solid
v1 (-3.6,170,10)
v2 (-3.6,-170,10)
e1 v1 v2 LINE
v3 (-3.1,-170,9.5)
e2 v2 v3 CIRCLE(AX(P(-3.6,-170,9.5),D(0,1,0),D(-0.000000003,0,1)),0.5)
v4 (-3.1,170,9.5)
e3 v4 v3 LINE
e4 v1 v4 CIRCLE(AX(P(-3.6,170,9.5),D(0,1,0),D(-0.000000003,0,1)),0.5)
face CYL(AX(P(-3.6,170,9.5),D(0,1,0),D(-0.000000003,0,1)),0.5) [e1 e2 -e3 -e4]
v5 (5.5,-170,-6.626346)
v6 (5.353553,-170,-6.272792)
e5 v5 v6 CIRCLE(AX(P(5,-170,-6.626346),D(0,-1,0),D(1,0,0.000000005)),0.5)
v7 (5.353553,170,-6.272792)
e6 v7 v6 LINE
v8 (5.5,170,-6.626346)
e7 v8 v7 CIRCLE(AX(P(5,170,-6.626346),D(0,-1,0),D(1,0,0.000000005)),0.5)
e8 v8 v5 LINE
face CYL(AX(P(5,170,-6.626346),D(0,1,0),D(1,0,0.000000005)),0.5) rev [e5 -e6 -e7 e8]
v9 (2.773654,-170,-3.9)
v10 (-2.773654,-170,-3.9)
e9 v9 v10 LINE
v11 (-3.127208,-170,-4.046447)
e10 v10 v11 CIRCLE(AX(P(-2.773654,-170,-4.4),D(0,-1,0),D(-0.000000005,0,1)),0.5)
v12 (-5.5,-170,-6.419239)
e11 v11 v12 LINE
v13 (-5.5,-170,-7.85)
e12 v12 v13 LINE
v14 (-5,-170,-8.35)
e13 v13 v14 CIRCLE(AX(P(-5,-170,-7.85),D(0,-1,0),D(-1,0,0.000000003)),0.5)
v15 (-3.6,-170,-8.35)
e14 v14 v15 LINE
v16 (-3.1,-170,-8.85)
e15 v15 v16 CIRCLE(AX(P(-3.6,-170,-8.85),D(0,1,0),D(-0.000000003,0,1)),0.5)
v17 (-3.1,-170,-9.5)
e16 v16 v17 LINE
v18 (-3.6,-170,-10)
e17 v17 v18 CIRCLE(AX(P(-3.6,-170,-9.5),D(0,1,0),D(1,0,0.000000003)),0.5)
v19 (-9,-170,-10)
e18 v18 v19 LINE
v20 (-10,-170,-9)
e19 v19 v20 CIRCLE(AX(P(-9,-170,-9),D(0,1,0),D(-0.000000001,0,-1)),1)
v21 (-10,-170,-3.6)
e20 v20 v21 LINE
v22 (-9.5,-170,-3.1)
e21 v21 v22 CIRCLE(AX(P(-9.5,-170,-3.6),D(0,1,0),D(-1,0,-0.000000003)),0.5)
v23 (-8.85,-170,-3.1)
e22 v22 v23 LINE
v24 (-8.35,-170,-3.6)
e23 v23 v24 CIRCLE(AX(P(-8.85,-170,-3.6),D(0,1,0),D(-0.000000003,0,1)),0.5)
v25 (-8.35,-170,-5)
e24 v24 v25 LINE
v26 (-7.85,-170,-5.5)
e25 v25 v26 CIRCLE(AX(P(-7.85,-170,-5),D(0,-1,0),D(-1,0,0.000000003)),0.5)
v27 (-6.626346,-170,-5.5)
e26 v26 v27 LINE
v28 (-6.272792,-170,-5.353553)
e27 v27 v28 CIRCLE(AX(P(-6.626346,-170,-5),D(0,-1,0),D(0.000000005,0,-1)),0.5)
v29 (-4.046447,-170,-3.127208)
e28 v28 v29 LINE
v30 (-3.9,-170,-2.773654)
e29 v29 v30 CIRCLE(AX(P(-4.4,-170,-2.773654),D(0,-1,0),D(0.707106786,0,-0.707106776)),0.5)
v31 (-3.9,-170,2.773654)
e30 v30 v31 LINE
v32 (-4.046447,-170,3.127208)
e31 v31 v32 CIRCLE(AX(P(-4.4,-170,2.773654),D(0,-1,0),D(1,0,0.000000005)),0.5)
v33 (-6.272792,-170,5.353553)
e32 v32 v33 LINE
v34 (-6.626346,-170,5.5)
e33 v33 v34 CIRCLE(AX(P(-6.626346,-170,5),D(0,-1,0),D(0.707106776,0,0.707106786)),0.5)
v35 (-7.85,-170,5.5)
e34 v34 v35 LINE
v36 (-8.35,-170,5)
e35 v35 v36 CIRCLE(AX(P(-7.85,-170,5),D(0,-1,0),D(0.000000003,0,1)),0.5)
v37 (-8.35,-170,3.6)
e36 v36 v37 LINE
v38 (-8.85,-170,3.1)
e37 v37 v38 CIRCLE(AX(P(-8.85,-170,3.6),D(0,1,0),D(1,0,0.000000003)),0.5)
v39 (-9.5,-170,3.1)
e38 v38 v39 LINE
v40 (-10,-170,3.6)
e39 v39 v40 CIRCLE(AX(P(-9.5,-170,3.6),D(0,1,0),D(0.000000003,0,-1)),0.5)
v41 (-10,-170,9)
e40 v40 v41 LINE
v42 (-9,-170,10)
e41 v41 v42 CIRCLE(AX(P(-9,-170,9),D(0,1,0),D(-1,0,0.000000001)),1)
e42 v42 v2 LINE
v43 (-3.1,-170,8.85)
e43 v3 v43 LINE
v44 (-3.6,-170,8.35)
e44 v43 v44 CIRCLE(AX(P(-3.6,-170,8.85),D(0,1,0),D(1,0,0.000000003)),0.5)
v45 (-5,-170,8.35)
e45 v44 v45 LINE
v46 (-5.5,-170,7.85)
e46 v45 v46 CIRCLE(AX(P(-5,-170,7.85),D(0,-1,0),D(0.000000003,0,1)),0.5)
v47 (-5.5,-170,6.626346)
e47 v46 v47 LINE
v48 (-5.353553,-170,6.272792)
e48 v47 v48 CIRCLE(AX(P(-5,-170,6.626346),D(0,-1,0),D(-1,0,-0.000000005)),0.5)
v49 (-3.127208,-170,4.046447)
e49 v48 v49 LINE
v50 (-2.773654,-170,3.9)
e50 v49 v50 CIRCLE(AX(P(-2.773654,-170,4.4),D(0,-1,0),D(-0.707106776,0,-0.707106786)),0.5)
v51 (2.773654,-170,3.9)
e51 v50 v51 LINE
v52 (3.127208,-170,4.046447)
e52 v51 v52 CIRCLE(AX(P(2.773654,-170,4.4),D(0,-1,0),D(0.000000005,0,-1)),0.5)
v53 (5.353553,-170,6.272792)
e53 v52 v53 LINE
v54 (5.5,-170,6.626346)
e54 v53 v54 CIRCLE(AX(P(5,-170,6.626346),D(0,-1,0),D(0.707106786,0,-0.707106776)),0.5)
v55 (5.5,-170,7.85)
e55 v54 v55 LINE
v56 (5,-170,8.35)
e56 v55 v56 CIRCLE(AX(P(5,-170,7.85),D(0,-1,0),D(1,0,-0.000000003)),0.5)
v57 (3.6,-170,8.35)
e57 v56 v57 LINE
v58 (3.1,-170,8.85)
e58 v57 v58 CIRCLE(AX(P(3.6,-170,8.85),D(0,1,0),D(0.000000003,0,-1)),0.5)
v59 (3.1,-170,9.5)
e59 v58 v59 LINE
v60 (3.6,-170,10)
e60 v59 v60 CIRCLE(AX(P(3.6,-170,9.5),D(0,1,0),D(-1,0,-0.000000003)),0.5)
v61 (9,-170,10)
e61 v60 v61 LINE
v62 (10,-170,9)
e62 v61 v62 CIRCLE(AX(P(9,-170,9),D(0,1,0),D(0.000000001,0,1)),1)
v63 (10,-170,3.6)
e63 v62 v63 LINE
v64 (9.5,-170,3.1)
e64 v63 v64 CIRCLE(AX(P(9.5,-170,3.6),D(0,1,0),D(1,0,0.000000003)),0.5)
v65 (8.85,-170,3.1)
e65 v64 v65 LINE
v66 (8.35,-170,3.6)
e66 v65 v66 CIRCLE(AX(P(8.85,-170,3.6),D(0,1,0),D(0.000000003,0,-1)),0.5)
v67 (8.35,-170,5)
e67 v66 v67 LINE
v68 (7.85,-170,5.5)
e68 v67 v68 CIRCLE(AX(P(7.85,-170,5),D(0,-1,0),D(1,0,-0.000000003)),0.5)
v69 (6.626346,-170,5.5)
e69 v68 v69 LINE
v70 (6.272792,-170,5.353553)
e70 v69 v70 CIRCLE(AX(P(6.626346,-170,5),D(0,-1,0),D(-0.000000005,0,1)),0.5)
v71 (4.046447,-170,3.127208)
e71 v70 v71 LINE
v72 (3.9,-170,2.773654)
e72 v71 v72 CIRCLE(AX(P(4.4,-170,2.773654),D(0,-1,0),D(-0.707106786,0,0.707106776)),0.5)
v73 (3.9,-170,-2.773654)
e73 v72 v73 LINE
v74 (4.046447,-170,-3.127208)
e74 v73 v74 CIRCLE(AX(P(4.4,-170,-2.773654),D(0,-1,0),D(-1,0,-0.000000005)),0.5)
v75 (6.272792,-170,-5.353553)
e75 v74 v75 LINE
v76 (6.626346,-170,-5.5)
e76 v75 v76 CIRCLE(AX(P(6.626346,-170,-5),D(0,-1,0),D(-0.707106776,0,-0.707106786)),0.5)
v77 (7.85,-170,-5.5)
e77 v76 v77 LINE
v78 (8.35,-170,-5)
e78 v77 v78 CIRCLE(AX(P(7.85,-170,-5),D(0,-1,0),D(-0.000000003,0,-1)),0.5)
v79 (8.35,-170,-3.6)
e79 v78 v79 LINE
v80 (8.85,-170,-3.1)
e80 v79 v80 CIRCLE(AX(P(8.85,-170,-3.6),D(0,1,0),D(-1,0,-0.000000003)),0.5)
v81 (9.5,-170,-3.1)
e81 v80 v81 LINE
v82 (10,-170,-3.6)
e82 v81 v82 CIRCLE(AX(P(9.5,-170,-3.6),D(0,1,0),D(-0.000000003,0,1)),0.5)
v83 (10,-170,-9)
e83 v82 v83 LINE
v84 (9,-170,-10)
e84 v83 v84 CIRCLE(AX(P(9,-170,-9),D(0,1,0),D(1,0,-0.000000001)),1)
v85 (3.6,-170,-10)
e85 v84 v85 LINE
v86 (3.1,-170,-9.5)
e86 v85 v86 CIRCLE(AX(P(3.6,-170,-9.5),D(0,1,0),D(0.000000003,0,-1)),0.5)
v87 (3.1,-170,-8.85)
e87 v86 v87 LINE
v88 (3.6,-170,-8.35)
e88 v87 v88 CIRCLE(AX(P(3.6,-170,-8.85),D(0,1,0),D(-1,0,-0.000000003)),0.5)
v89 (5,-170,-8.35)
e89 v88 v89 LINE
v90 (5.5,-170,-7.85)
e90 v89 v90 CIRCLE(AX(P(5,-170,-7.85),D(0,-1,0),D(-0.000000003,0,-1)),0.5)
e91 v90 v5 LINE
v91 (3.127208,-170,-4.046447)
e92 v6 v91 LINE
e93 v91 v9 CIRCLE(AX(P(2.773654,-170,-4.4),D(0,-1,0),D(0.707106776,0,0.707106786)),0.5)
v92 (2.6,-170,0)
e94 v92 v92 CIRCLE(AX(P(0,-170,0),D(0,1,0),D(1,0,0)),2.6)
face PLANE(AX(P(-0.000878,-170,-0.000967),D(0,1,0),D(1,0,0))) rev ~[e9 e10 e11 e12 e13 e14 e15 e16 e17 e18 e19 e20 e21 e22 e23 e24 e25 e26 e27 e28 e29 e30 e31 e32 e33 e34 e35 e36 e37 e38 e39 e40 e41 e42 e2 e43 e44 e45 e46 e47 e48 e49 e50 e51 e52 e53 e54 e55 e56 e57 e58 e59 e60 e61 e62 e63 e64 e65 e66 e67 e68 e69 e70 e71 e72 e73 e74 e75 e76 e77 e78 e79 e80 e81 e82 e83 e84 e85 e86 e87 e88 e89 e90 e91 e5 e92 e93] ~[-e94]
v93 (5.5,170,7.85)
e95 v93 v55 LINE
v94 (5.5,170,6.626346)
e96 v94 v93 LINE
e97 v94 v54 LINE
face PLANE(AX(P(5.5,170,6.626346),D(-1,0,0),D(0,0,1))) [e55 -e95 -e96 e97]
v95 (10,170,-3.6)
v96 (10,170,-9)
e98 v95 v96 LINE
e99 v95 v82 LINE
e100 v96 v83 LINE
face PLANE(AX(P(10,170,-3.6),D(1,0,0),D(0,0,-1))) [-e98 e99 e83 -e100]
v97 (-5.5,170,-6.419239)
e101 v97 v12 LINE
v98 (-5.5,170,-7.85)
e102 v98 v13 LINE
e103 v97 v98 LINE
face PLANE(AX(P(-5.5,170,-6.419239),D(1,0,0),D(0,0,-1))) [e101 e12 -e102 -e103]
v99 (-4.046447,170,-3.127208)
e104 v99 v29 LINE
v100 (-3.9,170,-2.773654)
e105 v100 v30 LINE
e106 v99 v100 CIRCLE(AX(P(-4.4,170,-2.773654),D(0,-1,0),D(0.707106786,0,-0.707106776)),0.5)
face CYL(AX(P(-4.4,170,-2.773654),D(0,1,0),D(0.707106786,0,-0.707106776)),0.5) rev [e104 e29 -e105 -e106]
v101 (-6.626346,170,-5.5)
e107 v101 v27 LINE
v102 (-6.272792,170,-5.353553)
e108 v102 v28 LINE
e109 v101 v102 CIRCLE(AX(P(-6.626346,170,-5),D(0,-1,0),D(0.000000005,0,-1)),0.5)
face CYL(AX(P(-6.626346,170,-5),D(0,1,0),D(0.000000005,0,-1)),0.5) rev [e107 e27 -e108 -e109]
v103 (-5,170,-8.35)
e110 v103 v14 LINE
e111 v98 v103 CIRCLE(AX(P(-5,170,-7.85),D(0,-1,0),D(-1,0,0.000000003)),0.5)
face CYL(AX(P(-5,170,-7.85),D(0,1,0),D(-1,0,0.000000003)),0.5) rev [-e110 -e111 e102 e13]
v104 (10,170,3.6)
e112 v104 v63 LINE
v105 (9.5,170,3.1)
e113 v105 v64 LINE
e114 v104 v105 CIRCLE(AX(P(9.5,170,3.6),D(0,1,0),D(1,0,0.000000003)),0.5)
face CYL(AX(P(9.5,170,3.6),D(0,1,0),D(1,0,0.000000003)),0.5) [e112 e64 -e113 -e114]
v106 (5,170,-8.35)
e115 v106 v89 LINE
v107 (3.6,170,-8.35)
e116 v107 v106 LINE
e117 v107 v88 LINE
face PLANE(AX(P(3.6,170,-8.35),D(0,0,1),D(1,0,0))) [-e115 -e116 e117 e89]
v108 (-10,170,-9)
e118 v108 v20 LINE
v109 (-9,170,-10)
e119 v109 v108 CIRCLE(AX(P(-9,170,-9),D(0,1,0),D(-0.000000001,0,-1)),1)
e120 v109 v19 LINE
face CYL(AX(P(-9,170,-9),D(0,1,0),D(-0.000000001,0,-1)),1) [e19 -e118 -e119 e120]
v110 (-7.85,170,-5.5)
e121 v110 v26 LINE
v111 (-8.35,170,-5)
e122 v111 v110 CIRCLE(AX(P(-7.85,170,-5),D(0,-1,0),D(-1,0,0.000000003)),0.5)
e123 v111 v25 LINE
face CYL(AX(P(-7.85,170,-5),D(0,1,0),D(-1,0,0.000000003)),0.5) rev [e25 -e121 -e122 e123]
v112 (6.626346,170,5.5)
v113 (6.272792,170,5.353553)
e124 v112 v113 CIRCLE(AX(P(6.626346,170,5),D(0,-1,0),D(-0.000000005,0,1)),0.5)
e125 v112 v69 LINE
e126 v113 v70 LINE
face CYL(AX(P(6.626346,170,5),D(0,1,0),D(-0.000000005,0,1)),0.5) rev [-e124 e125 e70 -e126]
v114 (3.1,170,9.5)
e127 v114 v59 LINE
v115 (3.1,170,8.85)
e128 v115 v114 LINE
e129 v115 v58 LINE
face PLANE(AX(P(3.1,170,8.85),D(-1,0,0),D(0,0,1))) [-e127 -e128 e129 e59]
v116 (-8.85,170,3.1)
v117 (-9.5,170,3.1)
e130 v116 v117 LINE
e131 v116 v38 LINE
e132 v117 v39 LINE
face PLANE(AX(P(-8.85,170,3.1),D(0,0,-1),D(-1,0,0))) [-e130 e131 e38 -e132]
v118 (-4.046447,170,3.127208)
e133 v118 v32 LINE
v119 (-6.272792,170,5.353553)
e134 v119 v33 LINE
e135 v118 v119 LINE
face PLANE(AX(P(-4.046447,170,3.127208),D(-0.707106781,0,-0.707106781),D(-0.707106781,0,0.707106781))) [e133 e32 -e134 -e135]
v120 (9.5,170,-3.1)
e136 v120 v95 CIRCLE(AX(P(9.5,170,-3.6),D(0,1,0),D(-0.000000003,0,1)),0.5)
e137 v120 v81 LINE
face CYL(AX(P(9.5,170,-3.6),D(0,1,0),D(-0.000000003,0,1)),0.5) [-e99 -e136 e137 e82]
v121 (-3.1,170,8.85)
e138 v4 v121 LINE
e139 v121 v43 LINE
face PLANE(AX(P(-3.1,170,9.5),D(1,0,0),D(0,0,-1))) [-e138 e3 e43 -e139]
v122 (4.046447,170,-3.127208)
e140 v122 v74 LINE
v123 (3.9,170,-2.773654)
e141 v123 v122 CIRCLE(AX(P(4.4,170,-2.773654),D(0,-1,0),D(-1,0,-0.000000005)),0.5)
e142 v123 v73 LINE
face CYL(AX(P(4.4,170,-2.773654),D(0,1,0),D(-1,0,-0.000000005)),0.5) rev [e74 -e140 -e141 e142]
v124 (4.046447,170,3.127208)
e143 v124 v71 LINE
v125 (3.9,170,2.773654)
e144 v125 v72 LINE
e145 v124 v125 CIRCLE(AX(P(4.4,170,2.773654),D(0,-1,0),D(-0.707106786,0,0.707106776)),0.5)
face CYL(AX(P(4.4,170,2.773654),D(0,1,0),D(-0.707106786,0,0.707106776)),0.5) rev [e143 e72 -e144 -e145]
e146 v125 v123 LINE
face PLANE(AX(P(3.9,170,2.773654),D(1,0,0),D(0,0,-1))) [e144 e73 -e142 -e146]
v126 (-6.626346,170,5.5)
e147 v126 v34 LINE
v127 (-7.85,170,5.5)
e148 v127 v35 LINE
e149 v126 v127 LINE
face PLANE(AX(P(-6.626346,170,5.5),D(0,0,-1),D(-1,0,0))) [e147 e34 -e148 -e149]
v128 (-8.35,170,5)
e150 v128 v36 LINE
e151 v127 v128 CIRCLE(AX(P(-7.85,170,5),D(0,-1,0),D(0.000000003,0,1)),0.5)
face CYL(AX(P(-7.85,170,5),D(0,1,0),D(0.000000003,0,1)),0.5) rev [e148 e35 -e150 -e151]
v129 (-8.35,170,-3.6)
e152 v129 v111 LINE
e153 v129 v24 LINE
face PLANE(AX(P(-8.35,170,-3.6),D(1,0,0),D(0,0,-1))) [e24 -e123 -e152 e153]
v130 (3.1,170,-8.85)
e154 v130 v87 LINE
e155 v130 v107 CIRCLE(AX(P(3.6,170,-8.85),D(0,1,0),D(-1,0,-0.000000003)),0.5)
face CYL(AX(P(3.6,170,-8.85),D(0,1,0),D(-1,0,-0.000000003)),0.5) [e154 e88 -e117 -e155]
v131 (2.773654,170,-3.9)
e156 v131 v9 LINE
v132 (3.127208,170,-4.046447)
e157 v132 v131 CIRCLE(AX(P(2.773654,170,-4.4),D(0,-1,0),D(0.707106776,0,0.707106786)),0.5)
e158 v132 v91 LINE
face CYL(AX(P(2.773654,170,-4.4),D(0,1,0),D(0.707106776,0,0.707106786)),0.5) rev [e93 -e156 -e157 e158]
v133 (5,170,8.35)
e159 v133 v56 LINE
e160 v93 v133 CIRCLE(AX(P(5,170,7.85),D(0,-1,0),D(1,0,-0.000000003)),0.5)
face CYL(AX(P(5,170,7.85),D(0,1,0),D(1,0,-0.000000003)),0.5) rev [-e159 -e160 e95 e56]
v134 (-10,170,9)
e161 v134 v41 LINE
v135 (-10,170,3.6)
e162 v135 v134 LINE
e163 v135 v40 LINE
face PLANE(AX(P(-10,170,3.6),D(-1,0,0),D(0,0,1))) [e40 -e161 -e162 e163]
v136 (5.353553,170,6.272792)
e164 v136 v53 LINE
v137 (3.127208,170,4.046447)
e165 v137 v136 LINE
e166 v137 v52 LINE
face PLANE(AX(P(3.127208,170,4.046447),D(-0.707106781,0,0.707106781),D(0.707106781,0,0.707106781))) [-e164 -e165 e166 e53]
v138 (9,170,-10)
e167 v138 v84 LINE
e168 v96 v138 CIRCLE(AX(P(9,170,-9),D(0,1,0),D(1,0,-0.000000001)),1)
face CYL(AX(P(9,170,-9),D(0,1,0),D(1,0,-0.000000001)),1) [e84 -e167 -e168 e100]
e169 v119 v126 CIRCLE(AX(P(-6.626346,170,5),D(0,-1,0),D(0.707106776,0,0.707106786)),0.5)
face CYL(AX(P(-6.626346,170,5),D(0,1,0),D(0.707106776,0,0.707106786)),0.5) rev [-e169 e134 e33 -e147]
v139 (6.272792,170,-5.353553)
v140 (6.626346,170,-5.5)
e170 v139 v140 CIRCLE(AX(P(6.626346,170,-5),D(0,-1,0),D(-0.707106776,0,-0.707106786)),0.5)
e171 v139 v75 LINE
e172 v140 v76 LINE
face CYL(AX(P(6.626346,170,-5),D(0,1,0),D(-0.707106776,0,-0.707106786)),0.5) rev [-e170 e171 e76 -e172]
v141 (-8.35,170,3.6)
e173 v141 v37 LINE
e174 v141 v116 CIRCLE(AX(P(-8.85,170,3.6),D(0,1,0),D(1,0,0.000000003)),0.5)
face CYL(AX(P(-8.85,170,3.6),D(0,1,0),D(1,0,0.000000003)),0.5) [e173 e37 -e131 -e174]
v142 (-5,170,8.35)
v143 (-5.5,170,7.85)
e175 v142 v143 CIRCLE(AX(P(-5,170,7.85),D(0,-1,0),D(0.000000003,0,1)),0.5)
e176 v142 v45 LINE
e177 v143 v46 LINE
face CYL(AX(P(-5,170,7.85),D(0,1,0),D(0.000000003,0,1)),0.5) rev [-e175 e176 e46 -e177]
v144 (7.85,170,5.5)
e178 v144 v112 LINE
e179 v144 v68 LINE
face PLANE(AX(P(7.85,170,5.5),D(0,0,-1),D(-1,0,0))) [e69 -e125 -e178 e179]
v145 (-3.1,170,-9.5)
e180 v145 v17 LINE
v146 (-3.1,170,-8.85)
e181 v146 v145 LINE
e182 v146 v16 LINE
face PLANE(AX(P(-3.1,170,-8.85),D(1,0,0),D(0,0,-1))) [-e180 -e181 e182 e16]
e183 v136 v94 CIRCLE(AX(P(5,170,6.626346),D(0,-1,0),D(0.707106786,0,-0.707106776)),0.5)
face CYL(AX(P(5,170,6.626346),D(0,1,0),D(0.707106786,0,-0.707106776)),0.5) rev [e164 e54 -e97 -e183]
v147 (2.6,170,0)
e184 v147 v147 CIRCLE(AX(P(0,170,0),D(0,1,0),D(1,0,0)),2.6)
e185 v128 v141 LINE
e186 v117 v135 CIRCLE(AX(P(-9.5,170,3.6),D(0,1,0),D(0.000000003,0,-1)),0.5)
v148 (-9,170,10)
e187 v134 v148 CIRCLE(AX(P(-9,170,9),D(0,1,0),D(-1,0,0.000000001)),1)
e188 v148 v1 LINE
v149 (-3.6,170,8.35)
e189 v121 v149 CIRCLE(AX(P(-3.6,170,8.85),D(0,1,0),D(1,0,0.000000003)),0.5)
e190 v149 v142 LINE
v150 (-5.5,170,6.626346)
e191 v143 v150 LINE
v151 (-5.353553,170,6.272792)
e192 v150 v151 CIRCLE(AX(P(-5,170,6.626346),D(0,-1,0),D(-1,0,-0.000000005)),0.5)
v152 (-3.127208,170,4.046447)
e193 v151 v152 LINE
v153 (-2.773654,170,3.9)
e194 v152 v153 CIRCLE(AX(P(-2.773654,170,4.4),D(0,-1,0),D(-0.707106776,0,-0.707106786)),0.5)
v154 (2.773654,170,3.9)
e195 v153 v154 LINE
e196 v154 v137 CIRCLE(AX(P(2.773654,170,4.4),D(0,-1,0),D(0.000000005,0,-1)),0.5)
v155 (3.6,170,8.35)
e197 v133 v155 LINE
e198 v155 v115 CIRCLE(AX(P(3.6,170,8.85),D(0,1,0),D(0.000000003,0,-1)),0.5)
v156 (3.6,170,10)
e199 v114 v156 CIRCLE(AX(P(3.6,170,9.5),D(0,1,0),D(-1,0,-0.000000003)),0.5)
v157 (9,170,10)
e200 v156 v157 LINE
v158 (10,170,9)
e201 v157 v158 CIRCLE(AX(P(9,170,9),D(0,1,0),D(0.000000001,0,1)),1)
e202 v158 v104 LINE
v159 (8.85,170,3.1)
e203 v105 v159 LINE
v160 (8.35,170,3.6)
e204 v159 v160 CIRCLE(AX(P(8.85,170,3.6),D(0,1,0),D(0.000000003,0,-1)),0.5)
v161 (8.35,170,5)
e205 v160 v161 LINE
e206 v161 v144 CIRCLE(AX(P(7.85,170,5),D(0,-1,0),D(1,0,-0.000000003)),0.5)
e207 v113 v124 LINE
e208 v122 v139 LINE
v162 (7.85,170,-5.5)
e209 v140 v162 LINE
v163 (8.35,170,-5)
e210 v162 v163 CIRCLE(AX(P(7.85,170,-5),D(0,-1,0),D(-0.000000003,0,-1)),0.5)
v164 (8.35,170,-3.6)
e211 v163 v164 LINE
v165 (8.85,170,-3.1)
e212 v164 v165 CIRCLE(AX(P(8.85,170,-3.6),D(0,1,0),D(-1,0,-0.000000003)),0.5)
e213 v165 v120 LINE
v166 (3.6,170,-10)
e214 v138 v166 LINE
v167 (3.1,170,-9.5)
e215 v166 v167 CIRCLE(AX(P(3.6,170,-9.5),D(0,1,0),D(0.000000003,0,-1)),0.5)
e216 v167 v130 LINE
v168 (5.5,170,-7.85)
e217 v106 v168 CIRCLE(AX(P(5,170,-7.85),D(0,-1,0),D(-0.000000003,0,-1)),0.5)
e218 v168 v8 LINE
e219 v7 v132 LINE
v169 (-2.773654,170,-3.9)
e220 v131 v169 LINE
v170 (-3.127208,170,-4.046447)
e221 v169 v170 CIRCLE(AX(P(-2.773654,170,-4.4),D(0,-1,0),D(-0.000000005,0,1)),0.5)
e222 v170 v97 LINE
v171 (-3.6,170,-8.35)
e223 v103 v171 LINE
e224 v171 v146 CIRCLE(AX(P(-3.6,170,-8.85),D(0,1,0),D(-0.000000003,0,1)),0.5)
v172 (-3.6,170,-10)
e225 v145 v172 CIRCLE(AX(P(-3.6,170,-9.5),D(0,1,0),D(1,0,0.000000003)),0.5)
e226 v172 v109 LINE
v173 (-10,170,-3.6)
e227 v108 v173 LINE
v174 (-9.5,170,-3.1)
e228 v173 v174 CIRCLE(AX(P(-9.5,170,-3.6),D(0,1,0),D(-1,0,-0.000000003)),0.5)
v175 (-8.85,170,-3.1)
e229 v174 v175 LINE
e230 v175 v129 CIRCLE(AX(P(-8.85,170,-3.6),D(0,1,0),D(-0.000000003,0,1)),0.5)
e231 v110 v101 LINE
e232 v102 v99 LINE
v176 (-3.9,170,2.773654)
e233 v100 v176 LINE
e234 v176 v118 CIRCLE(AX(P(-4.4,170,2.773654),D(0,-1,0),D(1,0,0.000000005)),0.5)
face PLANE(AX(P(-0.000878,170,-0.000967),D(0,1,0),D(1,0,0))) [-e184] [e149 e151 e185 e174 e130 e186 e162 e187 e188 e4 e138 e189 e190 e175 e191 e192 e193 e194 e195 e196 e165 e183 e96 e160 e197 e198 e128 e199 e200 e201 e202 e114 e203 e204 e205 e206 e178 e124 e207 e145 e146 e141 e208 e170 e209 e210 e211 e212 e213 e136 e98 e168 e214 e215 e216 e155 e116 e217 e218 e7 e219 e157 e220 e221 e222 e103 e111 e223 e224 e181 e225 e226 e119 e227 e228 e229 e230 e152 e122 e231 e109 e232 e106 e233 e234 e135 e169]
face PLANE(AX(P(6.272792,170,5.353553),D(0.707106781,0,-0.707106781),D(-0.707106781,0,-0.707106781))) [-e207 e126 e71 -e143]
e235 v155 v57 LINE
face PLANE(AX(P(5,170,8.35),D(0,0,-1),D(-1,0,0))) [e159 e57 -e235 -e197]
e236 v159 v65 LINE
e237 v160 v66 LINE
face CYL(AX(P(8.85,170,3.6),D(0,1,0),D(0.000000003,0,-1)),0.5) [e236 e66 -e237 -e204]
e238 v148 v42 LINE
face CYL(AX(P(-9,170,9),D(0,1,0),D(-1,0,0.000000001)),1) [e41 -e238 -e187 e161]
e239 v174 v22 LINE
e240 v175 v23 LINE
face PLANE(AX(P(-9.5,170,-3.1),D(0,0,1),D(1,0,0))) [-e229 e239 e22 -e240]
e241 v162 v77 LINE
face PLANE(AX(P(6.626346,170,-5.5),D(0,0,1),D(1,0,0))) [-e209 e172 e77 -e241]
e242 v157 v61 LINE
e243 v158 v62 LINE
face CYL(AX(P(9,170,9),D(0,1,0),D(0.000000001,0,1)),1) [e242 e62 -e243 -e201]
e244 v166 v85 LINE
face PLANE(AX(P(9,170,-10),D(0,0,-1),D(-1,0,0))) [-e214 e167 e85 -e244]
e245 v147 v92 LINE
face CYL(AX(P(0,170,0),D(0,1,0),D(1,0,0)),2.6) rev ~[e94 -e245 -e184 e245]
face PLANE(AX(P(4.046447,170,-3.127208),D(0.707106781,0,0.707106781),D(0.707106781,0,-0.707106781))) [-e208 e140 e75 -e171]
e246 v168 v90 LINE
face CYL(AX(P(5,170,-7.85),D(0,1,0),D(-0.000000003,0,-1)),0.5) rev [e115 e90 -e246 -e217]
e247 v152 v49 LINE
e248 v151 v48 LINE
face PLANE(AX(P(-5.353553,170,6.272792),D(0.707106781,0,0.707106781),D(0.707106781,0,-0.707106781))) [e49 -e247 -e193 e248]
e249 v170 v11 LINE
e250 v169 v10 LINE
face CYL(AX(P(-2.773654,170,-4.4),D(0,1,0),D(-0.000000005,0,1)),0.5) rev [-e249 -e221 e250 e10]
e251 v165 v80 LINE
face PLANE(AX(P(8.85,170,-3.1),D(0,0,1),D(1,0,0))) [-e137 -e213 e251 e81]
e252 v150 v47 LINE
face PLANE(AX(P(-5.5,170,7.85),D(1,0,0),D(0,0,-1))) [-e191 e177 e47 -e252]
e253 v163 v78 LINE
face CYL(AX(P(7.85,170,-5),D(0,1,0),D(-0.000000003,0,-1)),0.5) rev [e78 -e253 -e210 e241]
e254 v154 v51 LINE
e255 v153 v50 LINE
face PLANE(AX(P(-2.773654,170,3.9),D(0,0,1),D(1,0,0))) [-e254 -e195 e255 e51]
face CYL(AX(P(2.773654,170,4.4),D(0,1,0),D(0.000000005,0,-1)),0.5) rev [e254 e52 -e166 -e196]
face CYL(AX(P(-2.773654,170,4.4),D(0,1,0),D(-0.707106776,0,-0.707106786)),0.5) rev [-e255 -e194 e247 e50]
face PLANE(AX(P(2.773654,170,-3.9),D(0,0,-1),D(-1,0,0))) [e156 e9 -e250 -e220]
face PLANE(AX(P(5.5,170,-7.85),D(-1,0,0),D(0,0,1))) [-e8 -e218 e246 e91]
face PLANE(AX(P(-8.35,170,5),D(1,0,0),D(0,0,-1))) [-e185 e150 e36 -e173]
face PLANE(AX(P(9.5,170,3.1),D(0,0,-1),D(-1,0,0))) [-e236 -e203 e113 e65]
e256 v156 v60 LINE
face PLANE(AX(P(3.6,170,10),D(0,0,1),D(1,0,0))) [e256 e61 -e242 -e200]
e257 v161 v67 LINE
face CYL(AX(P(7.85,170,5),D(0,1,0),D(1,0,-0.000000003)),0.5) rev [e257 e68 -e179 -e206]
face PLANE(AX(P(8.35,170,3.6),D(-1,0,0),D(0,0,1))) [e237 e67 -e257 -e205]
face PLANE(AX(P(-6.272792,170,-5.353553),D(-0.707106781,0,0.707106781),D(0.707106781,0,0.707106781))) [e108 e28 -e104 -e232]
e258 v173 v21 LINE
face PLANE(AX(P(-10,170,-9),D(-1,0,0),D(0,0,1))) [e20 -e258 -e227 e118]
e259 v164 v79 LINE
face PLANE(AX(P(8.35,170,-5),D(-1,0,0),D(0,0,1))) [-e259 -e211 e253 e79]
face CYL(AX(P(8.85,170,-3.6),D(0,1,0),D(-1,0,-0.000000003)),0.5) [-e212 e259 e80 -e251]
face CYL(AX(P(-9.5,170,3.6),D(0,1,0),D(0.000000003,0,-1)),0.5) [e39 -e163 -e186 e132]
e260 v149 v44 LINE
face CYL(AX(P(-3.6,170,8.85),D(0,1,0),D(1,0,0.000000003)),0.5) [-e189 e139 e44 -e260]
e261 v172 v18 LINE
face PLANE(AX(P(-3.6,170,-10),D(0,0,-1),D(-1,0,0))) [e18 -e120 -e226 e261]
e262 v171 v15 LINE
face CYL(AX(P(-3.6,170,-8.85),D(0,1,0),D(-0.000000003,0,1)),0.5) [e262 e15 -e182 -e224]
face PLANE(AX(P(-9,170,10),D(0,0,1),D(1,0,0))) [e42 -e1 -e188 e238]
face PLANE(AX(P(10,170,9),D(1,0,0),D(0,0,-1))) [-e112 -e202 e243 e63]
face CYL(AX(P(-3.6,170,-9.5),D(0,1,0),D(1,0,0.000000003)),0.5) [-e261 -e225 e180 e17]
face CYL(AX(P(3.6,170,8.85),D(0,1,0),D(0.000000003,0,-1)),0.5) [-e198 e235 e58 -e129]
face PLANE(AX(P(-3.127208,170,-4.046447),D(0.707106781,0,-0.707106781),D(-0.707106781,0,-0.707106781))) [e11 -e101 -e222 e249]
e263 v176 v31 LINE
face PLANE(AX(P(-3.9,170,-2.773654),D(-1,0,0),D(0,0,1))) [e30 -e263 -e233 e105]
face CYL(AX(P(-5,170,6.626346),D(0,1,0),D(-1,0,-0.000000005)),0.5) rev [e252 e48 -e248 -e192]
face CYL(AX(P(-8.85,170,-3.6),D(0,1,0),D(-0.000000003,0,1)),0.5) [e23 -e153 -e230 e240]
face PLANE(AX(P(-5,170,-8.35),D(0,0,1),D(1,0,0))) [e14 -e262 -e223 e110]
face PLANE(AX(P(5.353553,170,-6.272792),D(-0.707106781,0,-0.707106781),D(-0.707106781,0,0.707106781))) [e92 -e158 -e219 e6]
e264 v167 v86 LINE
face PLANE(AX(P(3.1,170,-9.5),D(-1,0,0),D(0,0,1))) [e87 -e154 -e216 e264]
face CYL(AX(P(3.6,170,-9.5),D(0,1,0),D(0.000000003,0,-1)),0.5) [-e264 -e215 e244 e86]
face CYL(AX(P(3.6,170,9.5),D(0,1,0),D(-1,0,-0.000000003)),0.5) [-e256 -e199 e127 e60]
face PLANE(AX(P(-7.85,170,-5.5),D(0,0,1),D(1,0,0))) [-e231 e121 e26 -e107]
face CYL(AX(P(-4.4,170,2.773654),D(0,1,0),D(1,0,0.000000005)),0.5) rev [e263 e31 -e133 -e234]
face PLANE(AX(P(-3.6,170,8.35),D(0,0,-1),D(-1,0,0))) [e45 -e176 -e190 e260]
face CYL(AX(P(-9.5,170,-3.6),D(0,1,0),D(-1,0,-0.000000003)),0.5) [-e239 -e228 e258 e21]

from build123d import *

# Parameters (mm, degrees)
SKETCH1_R           = 2.6
BOSS_EXTRUDE1_DEPTH = 340


with BuildPart() as part:
    # Sketch1 → Boss-Extrude1 (new body)
    with BuildSketch(Plane(origin=(0, 170, 0), x_dir=(1, 0, 0), z_dir=(0, 1, 0))):
        with BuildLine():
            Line((-3.1, 8.85), (-3.1, 9.5))
            ThreePointArc((-3.1, 9.5), (-3.246446609, 9.853553391), (-3.6, 10))
            Line((-3.6, 10), (-9, 10))
            ThreePointArc((-9, 10), (-9.707106781, 9.707106781), (-10, 9))
            Line((-10, 9), (-10, 3.6))
            ThreePointArc((-10, 3.6), (-9.853553391, 3.246446609), (-9.5, 3.1))
            Line((-9.5, 3.1), (-8.85, 3.1))
            ThreePointArc((-8.85, 3.1), (-8.496446609, 3.246446609), (-8.35, 3.6))
            Line((-8.35, 3.6), (-8.35, 5))
            ThreePointArc((-8.35, 5), (-8.203553391, 5.353553391), (-7.85, 5.5))
            Line((-7.85, 5.5), (-6.626345597, 5.5))
            ThreePointArc((-6.626345597, 5.5), (-6.435003881, 5.461939766), (-6.272792206, 5.353553391))
            Line((-6.272792206, 5.353553391), (-4.046446609, 3.127207794))
            ThreePointArc((-4.046446609, 3.127207794), (-3.938060234, 2.964996119), (-3.9, 2.773654403))
            Line((-3.9, 2.773654403), (-3.9, -2.773654403))
            ThreePointArc((-3.9, -2.773654403), (-3.938060234, -2.964996119), (-4.046446609, -3.127207794))
            Line((-4.046446609, -3.127207794), (-6.272792206, -5.353553391))
            ThreePointArc((-6.272792206, -5.353553391), (-6.435003881, -5.461939766), (-6.626345597, -5.5))
            Line((-6.626345597, -5.5), (-7.85, -5.5))
            ThreePointArc((-7.85, -5.5), (-8.203553391, -5.353553391), (-8.35, -5))
            Line((-8.35, -5), (-8.35, -3.6))
            ThreePointArc((-8.35, -3.6), (-8.496446609, -3.246446609), (-8.85, -3.1))
            Line((-8.85, -3.1), (-9.5, -3.1))
            ThreePointArc((-9.5, -3.1), (-9.853553391, -3.246446609), (-10, -3.6))
            Line((-10, -3.6), (-10, -9))
            ThreePointArc((-10, -9), (-9.707106781, -9.707106781), (-9, -10))
            Line((-9, -10), (-3.6, -10))
            ThreePointArc((-3.6, -10), (-3.246446609, -9.853553391), (-3.1, -9.5))
            Line((-3.1, -9.5), (-3.1, -8.85))
            ThreePointArc((-3.1, -8.85), (-3.246446609, -8.496446609), (-3.6, -8.35))
            Line((-3.6, -8.35), (-5, -8.35))
            ThreePointArc((-5, -8.35), (-5.353553391, -8.203553391), (-5.5, -7.85))
            Line((-5.5, -7.85), (-5.5, -6.626345597))
            ThreePointArc((-5.5, -6.626345597), (-5.461939766, -6.435003881), (-5.353553391, -6.272792206))
            Line((-5.353553391, -6.272792206), (-3.127207794, -4.046446609))
            ThreePointArc((-3.127207794, -4.046446609), (-2.964996119, -3.938060234), (-2.773654403, -3.9))
            Line((-2.773654403, -3.9), (2.773654403, -3.9))
            ThreePointArc((2.773654403, -3.9), (2.964996119, -3.938060234), (3.127207794, -4.046446609))
            Line((3.127207794, -4.046446609), (5.353553391, -6.272792206))
            ThreePointArc((5.353553391, -6.272792206), (5.461939766, -6.435003881), (5.5, -6.626345597))
            Line((5.5, -6.626345597), (5.5, -7.85))
            ThreePointArc((5.5, -7.85), (5.353553391, -8.203553391), (5, -8.35))
            Line((5, -8.35), (3.6, -8.35))
            ThreePointArc((3.6, -8.35), (3.246446609, -8.496446609), (3.1, -8.85))
            Line((3.1, -8.85), (3.1, -9.5))
            ThreePointArc((3.1, -9.5), (3.246446609, -9.853553391), (3.6, -10))
            Line((3.6, -10), (9, -10))
            ThreePointArc((9, -10), (9.707106781, -9.707106781), (10, -9))
            Line((10, -9), (10, -3.6))
            ThreePointArc((10, -3.6), (9.853553391, -3.246446609), (9.5, -3.1))
            Line((9.5, -3.1), (8.85, -3.1))
            ThreePointArc((8.85, -3.1), (8.496446609, -3.246446609), (8.35, -3.6))
            Line((8.35, -3.6), (8.35, -5))
            ThreePointArc((8.35, -5), (8.203553391, -5.353553391), (7.85, -5.5))
            Line((7.85, -5.5), (6.626345597, -5.5))
            ThreePointArc((6.626345597, -5.5), (6.435003881, -5.461939766), (6.272792206, -5.353553391))
            Line((6.272792206, -5.353553391), (4.046446609, -3.127207794))
            ThreePointArc((4.046446609, -3.127207794), (3.938060234, -2.964996119), (3.9, -2.773654403))
            Line((3.9, -2.773654403), (3.9, 2.773654403))
            ThreePointArc((3.9, 2.773654403), (3.938060234, 2.964996119), (4.046446609, 3.127207794))
            Line((4.046446609, 3.127207794), (6.272792206, 5.353553391))
            ThreePointArc((6.272792206, 5.353553391), (6.435003881, 5.461939766), (6.626345597, 5.5))
            Line((6.626345597, 5.5), (7.85, 5.5))
            ThreePointArc((7.85, 5.5), (8.203553391, 5.353553391), (8.35, 5))
            Line((8.35, 5), (8.35, 3.6))
            ThreePointArc((8.35, 3.6), (8.496446609, 3.246446609), (8.85, 3.1))
            Line((8.85, 3.1), (9.5, 3.1))
            ThreePointArc((9.5, 3.1), (9.853553391, 3.246446609), (10, 3.6))
            Line((10, 3.6), (10, 9))
            ThreePointArc((10, 9), (9.707106781, 9.707106781), (9, 10))
            Line((9, 10), (3.6, 10))
            ThreePointArc((3.6, 10), (3.246446609, 9.853553391), (3.1, 9.5))
            Line((3.1, 9.5), (3.1, 8.85))
            ThreePointArc((3.1, 8.85), (3.246446609, 8.496446609), (3.6, 8.35))
            Line((3.6, 8.35), (5, 8.35))
            ThreePointArc((5, 8.35), (5.353553391, 8.203553391), (5.5, 7.85))
            Line((5.5, 7.85), (5.5, 6.626345597))
            ThreePointArc((5.5, 6.626345597), (5.461939766, 6.435003881), (5.353553391, 6.272792206))
            Line((5.353553391, 6.272792206), (3.127207794, 4.046446609))
            ThreePointArc((3.127207794, 4.046446609), (2.964996119, 3.938060234), (2.773654403, 3.9))
            Line((2.773654403, 3.9), (-2.773654403, 3.9))
            ThreePointArc((-2.773654403, 3.9), (-2.964996119, 3.938060234), (-3.127207794, 4.046446609))
            Line((-3.127207794, 4.046446609), (-5.5, 6.419238816))
            Line((-5.5, 6.419238816), (-5.5, 7.85))
            ThreePointArc((-5.5, 7.85), (-5.353553391, 8.203553391), (-5, 8.35))
            Line((-5, 8.35), (-3.6, 8.35))
            ThreePointArc((-3.6, 8.35), (-3.246446609, 8.496446609), (-3.1, 8.85))
        make_face()
        Circle(SKETCH1_R, mode=Mode.SUBTRACT)
    extrude(amount=-BOSS_EXTRUDE1_DEPTH)


solid = part.part
